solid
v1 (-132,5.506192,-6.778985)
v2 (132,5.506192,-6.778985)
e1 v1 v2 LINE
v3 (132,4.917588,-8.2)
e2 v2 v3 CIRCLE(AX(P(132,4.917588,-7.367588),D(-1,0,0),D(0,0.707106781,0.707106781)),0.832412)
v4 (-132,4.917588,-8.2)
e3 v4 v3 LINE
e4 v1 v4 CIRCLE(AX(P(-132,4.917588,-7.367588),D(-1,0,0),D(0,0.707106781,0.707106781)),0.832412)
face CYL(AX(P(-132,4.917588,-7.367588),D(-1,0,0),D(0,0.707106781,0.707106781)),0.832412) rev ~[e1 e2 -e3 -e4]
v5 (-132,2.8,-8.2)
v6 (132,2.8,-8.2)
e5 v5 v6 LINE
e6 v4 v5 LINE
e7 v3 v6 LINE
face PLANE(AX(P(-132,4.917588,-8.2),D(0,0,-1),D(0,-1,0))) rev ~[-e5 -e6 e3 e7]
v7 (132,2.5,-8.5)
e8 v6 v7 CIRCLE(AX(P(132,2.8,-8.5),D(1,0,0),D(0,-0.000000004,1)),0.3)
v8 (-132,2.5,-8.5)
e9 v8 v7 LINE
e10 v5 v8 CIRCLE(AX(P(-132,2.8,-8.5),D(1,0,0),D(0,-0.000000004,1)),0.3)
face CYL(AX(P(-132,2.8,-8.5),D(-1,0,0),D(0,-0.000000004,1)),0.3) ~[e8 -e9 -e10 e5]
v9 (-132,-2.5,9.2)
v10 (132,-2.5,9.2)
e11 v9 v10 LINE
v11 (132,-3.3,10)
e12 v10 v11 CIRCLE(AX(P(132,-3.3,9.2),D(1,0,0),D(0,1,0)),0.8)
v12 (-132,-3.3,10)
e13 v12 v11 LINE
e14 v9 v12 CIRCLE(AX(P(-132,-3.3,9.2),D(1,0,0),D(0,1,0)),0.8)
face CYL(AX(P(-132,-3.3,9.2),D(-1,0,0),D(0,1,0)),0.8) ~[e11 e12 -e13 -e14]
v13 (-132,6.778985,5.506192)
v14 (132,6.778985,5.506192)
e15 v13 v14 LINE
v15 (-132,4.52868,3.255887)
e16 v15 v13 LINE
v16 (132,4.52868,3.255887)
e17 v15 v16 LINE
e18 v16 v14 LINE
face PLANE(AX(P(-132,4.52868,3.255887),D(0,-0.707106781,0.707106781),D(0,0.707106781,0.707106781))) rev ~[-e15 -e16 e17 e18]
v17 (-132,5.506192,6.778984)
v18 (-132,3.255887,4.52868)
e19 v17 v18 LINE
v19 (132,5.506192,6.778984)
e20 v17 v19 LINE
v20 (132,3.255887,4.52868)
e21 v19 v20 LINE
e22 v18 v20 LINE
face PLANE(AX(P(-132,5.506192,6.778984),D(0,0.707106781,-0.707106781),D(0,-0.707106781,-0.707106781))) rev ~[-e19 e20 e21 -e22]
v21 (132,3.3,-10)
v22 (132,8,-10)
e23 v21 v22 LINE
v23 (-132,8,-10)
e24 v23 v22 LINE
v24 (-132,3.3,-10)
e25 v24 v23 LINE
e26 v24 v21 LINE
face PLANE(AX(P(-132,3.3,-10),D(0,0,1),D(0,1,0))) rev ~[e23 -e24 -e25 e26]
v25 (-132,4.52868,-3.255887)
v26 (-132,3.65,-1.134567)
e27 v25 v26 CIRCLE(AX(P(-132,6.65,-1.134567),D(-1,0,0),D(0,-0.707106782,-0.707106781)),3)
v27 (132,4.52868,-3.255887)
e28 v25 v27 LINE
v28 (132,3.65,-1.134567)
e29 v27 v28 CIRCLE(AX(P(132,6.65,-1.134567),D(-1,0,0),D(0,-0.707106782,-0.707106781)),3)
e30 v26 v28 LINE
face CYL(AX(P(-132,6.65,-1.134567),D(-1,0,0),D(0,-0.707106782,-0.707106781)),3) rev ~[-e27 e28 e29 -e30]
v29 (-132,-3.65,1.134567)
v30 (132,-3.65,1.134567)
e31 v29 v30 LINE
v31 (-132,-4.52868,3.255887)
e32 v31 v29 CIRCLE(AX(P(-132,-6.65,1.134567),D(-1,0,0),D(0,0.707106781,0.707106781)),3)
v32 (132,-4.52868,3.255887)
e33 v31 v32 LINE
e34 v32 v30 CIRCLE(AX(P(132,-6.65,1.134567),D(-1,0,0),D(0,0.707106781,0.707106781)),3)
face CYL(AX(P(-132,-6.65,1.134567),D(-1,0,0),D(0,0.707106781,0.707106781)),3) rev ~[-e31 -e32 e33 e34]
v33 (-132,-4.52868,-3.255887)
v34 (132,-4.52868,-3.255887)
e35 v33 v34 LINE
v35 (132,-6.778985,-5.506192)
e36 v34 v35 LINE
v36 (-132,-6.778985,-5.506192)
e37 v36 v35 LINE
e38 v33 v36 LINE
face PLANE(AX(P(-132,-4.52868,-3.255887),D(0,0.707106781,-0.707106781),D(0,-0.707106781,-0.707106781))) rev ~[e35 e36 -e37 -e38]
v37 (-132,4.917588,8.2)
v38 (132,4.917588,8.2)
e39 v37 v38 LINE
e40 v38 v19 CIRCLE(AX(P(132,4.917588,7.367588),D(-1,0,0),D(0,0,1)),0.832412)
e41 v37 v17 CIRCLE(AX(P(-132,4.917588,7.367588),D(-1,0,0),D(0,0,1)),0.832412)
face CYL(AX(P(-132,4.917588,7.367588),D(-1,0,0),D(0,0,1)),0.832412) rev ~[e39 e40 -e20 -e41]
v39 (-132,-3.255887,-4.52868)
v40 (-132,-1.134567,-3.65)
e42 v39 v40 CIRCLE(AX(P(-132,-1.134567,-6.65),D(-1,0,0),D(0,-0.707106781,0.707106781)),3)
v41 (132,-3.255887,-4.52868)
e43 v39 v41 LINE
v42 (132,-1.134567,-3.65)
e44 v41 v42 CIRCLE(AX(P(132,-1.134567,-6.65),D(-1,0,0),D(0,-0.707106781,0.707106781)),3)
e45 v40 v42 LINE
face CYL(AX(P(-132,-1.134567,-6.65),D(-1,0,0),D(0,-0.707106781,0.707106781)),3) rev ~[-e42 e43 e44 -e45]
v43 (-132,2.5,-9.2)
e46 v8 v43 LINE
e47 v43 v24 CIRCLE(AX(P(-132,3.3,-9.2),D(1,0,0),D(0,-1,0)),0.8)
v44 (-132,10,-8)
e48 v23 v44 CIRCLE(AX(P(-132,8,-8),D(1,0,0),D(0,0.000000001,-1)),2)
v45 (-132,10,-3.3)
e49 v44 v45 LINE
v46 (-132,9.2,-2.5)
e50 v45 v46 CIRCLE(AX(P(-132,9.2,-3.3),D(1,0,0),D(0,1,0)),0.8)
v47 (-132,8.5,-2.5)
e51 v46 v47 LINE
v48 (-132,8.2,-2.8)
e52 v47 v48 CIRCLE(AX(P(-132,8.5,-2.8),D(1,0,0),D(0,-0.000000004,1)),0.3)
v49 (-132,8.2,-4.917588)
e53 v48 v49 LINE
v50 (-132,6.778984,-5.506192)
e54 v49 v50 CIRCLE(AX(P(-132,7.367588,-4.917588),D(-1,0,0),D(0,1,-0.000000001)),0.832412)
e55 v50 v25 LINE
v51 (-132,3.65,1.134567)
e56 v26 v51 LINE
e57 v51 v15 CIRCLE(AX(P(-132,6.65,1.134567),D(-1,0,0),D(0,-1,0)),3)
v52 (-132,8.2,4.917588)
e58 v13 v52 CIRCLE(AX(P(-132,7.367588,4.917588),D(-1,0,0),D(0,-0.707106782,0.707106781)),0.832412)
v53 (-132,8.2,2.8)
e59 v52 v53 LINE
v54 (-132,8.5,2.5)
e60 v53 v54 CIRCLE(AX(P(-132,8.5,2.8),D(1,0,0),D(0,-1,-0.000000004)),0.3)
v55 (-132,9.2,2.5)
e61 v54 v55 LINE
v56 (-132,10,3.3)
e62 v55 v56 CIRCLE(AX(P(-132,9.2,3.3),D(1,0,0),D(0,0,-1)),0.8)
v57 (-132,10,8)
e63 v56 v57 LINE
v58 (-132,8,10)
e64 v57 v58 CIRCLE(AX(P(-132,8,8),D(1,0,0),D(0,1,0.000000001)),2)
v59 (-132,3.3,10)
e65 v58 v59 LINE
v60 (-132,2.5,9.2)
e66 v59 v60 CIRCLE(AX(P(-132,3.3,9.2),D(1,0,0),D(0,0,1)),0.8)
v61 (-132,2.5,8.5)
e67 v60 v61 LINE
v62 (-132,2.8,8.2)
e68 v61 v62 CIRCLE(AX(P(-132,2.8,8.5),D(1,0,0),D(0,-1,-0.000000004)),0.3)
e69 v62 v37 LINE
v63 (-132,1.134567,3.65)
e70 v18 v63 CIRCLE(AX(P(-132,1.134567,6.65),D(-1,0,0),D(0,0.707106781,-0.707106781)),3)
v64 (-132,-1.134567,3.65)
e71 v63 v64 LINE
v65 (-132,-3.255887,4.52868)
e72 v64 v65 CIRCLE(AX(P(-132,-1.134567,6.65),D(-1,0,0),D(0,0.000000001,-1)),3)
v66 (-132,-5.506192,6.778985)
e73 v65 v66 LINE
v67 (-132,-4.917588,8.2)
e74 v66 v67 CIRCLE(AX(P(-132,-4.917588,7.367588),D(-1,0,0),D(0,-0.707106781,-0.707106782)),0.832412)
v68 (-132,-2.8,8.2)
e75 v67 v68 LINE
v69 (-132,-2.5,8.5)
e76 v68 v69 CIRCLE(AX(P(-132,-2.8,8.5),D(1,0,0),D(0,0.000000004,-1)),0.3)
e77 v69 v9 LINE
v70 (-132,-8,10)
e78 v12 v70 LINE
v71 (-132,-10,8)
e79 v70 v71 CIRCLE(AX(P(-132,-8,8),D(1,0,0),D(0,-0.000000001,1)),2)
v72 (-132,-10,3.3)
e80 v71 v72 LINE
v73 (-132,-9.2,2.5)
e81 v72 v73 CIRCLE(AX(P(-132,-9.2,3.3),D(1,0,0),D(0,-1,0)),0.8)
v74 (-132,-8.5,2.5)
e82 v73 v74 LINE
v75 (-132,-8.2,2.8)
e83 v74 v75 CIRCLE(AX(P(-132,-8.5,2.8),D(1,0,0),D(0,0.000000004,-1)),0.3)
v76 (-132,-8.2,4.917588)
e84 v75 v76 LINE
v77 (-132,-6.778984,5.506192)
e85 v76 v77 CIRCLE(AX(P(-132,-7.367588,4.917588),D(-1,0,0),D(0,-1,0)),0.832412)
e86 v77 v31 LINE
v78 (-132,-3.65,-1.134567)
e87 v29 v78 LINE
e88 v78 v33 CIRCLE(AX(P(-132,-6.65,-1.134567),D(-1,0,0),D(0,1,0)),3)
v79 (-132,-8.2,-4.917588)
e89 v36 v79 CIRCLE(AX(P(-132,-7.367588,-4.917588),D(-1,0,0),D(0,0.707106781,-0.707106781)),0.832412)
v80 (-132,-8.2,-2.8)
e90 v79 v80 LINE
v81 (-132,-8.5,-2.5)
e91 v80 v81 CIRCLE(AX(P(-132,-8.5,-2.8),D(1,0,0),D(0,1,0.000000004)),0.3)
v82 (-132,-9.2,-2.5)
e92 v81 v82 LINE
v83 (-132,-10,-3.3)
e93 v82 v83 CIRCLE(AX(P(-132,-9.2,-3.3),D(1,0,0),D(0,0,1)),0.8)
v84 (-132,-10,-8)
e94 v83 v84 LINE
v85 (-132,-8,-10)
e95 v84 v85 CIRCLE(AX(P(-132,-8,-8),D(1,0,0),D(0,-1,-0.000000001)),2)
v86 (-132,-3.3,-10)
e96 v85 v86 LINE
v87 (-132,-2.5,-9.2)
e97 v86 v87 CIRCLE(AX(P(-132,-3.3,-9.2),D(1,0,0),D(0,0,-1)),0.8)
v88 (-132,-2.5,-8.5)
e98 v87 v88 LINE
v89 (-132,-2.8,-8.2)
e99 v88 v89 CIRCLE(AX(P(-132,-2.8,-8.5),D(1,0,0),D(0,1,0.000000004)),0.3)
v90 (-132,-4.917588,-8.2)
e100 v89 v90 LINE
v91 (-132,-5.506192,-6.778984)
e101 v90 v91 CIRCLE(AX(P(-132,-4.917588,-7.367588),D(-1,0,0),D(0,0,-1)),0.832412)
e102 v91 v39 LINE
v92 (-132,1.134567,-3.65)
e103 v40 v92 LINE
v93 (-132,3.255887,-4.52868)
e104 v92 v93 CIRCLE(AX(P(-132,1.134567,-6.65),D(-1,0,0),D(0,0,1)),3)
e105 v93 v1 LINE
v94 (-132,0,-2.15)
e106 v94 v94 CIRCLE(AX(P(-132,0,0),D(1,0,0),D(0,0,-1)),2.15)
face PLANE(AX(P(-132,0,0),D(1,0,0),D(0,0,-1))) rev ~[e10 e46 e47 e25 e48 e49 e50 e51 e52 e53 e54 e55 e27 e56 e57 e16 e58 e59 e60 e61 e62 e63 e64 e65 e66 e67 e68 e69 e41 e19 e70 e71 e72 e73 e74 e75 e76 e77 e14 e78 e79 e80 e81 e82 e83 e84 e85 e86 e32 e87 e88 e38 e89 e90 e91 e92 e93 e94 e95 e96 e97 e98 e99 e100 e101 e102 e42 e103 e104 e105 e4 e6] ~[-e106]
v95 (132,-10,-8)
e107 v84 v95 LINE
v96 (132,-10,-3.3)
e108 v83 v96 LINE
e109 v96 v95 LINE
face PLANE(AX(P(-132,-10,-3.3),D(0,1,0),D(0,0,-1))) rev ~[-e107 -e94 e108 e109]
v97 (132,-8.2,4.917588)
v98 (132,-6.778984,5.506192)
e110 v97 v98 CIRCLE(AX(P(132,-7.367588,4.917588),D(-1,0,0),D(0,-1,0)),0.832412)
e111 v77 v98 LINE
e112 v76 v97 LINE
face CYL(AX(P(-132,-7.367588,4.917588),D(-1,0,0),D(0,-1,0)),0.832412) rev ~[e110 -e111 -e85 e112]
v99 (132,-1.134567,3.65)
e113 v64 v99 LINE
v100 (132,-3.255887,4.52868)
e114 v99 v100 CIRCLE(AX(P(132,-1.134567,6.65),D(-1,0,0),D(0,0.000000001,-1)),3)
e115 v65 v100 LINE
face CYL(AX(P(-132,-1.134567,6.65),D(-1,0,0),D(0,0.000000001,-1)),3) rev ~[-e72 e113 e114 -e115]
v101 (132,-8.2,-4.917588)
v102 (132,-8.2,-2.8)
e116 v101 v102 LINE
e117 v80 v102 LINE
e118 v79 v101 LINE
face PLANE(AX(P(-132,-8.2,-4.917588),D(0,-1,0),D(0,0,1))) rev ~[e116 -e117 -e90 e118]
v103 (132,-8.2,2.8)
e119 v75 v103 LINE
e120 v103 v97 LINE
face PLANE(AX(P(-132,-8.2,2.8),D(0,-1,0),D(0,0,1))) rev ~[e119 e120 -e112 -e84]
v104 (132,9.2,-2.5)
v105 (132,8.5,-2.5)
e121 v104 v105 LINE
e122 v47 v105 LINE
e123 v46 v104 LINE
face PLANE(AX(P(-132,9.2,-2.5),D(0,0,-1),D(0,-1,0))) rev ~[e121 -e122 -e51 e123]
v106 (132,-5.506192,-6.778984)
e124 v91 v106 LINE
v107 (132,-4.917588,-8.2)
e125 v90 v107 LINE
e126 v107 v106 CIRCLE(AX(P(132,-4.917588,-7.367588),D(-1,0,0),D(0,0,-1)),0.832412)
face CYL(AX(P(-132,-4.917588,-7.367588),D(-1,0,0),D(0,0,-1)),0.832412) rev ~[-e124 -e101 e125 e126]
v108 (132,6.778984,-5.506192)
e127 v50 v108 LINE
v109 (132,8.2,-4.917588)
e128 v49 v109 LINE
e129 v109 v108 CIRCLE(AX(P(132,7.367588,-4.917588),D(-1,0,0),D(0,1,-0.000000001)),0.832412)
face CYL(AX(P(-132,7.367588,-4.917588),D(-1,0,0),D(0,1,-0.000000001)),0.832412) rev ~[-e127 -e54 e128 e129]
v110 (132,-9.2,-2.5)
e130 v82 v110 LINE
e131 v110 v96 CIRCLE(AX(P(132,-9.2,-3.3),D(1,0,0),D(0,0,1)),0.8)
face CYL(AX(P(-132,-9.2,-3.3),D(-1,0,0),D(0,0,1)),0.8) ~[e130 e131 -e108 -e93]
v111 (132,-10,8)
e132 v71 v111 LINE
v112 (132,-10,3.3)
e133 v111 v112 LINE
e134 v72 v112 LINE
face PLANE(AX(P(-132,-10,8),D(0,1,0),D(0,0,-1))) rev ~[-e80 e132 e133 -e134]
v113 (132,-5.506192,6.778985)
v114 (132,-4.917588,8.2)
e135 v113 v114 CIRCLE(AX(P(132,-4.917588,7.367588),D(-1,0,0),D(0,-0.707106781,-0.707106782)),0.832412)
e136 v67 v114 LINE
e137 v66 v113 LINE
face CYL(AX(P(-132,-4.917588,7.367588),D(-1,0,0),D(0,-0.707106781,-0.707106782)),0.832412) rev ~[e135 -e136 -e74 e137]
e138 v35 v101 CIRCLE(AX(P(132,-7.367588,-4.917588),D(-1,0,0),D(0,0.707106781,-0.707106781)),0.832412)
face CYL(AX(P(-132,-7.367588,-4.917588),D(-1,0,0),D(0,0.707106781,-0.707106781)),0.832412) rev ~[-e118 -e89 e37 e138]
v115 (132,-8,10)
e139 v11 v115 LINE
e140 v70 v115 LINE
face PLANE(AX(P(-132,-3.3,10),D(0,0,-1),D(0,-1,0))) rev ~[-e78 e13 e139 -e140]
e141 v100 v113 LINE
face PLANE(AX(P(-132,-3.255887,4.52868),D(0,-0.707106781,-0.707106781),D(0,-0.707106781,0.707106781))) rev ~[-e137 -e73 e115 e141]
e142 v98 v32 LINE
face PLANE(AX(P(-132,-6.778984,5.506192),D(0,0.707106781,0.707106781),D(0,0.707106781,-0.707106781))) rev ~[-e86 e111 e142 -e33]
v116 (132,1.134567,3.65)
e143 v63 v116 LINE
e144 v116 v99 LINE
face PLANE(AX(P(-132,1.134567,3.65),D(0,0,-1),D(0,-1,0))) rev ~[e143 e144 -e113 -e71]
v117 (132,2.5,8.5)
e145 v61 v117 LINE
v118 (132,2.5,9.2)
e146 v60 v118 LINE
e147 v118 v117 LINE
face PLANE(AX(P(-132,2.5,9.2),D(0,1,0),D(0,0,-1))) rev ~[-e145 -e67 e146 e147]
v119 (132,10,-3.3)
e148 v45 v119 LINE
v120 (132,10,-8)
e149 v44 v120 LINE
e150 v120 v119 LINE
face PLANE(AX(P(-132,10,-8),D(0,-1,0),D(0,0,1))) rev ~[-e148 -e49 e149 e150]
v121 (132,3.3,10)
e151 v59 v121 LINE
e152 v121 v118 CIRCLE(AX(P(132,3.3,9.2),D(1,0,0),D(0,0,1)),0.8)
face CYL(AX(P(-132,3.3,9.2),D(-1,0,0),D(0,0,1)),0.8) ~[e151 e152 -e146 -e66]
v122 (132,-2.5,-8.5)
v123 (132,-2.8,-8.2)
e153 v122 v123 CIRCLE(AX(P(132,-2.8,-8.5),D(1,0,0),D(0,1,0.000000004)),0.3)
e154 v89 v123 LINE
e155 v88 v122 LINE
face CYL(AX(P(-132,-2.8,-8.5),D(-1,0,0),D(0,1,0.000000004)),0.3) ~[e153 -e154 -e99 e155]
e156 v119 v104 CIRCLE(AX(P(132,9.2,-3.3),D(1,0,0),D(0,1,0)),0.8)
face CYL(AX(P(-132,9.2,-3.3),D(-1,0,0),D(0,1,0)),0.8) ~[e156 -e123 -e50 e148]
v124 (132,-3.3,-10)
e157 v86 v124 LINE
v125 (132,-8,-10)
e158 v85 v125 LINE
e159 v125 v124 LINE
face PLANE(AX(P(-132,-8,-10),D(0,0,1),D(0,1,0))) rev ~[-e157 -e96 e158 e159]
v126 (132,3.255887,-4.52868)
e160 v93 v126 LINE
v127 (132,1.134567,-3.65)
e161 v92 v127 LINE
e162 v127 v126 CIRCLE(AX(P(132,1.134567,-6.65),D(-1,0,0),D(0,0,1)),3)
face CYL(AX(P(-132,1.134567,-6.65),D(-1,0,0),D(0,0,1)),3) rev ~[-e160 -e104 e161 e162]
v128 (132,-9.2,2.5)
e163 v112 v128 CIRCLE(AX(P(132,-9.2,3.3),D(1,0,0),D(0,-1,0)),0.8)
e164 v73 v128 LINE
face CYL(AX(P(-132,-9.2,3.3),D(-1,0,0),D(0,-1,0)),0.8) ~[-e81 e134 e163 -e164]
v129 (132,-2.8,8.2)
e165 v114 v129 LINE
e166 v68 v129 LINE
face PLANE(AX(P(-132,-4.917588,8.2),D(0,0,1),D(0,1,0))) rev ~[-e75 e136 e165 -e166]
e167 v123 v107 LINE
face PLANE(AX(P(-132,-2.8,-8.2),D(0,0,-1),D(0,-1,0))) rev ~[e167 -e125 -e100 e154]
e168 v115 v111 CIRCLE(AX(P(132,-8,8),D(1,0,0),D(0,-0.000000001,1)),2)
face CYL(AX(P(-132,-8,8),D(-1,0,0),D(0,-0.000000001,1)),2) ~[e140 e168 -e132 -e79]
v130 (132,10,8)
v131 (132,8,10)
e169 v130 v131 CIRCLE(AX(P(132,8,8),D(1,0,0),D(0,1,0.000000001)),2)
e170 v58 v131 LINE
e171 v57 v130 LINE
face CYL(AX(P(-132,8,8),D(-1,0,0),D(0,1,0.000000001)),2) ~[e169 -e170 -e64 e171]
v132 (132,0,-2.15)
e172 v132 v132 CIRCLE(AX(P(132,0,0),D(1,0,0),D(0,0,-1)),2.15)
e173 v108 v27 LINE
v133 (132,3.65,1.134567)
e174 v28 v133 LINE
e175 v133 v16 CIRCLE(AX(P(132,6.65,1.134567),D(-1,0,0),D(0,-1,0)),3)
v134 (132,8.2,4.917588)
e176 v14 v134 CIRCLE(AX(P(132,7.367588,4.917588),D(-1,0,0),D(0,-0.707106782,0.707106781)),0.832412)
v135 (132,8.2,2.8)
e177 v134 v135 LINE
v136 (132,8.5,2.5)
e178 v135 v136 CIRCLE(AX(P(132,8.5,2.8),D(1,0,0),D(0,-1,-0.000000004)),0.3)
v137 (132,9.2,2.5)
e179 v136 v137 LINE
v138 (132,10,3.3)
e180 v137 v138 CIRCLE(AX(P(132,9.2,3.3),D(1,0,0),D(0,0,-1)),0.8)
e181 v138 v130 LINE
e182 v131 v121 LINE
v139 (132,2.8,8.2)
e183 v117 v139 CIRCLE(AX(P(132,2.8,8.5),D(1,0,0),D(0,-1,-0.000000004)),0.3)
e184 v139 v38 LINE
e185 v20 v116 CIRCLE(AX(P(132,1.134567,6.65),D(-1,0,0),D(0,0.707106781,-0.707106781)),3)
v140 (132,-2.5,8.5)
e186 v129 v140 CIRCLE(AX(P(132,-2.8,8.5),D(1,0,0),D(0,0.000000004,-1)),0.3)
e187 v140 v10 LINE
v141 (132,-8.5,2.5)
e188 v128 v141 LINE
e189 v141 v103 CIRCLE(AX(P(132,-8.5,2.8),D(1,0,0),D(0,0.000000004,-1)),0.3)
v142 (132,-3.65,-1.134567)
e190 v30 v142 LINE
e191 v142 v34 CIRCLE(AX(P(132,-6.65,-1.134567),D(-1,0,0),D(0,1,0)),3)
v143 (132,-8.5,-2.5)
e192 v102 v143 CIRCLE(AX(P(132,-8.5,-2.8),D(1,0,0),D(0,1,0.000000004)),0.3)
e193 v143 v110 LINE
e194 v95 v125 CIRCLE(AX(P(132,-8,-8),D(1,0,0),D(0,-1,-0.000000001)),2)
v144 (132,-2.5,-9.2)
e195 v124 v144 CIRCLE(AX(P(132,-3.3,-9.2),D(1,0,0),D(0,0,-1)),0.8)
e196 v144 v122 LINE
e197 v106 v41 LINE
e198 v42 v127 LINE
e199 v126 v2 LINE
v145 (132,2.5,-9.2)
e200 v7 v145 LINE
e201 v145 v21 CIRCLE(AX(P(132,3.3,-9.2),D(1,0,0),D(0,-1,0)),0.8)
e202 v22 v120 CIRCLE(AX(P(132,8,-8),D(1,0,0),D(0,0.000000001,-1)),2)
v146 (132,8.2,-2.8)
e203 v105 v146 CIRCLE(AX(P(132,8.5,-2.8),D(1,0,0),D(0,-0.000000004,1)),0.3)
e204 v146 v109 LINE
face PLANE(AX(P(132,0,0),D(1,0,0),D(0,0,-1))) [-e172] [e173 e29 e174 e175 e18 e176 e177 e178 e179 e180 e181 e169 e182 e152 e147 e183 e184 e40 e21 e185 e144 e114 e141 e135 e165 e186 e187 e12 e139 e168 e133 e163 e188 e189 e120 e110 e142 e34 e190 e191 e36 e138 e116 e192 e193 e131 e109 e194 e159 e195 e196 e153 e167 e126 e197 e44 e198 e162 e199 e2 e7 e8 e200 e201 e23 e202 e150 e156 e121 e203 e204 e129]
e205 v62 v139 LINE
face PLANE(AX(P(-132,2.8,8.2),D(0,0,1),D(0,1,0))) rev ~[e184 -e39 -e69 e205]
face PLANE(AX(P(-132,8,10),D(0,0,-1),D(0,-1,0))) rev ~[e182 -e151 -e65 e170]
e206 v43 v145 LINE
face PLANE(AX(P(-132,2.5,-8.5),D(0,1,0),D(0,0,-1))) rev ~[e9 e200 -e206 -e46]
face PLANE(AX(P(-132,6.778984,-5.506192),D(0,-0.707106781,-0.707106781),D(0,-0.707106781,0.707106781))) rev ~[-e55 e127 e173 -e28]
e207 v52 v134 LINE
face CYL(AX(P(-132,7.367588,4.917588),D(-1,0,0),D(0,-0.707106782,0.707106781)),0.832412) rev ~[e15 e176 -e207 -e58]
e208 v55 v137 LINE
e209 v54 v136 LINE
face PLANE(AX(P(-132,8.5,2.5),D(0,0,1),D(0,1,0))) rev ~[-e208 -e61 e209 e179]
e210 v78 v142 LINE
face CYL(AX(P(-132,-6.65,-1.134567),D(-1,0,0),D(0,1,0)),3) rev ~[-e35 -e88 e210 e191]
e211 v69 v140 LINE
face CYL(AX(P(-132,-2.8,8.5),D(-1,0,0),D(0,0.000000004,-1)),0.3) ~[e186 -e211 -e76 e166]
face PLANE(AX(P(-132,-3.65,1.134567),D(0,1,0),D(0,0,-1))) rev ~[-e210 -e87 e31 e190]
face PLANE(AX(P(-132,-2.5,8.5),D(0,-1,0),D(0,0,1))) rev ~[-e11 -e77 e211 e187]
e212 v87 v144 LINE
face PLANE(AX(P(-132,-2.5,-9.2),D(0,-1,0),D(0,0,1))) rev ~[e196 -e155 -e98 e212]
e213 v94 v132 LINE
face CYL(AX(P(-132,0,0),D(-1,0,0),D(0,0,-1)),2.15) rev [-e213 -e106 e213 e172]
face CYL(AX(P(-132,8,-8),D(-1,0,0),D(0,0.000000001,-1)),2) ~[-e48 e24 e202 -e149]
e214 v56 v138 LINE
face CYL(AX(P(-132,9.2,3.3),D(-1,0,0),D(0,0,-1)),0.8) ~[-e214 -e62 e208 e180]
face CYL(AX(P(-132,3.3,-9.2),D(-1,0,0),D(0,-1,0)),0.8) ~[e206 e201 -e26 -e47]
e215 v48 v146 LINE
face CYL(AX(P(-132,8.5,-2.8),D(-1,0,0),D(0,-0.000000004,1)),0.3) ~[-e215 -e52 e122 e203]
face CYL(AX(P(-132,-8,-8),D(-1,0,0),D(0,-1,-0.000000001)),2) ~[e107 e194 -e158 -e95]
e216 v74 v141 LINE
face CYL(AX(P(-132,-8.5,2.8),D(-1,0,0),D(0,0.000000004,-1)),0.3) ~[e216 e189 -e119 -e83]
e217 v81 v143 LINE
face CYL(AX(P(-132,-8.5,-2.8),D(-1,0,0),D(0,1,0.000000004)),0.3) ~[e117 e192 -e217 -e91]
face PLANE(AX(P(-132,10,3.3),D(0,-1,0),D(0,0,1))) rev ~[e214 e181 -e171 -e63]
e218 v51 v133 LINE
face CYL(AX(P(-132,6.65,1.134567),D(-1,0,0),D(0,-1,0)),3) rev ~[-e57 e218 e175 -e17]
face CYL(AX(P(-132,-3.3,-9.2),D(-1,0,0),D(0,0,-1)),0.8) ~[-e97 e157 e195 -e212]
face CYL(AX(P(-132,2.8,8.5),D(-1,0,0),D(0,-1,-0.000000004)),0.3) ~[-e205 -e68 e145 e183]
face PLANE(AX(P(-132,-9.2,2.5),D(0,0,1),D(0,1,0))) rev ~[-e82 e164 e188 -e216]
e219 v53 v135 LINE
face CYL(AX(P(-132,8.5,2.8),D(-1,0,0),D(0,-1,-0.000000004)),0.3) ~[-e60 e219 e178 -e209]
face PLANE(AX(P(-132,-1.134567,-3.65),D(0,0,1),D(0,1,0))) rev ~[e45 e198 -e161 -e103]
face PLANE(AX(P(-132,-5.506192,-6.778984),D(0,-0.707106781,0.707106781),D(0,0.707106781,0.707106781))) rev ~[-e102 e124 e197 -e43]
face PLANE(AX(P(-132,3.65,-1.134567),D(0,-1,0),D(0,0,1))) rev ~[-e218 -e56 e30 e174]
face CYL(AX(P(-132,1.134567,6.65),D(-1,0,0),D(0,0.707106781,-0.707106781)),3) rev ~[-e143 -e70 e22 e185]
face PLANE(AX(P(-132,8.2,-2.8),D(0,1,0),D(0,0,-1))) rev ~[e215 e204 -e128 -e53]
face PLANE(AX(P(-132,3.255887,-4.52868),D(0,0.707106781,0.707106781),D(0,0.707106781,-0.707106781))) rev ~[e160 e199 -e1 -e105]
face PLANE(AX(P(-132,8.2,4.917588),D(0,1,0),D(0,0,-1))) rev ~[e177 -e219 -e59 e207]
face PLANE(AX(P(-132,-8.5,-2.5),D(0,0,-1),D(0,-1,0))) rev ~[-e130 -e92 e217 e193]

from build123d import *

# Parameters (mm, degrees)
SKIZZE11_R                = 2.15
QUADRATISCH_20X20_1_DEPTH = 264


with BuildPart() as part:
    # Skizze11 → Quadratisch 20X20(1) (new body)
    with BuildSketch(Plane(origin=(-132, 0, 0), x_dir=(0, 0, -1), z_dir=(1, 0, 0))):
        with BuildLine():
            Line((3.3, -10), (8, -10))
            ThreePointArc((8, -10), (9.414213562, -9.414213562), (10, -8))
            Line((10, -8), (10, -3.3))
            ThreePointArc((10, -3.3), (9.765685425, -2.734314575), (9.2, -2.5))
            Line((9.2, -2.5), (8.500000004, -2.5))
            ThreePointArc((8.500000004, -2.5), (8.28786797, -2.587867966), (8.200000004, -2.8))
            Line((8.200000004, -2.8), (8.200000004, -4.91758839))
            ThreePointArc((8.200000004, -4.91758839), (7.686138526, -5.686636439), (6.7789845, -5.506192284))
            Line((6.7789845, -5.506192284), (4.52867966, -3.255887444))
            ThreePointArc((4.52867966, -3.255887444), (3.878361407, -2.282617399), (3.650000005, -1.134567104))
            Line((3.650000005, -1.134567104), (3.650000005, 1.134567116))
            ThreePointArc((3.650000005, 1.134567116), (3.878361407, 2.282617413), (4.528679661, 3.25588746))
            Line((4.528679661, 3.25588746), (6.778984505, 5.506192304))
            ThreePointArc((6.778984505, 5.506192304), (7.686138528, 5.686636458), (8.200000004, 4.917588412))
            Line((8.200000004, 4.917588412), (8.200000004, 2.8))
            ThreePointArc((8.200000004, 2.8), (8.28786797, 2.587867966), (8.500000004, 2.5))
            Line((8.500000004, 2.5), (9.2, 2.5))
            ThreePointArc((9.2, 2.5), (9.765685425, 2.734314575), (10, 3.3))
            Line((10, 3.3), (10, 8))
            ThreePointArc((10, 8), (9.414213562, 9.414213562), (8, 10))
            Line((8, 10), (3.3, 10))
            ThreePointArc((3.3, 10), (2.734314575, 9.765685425), (2.5, 9.2))
            Line((2.5, 9.2), (2.5, 8.5))
            ThreePointArc((2.5, 8.5), (2.587867966, 8.287867966), (2.8, 8.2))
            Line((2.8, 8.2), (4.91758839, 8.2))
            ThreePointArc((4.91758839, 8.2), (5.686636437, 7.686138523), (5.506192283, 6.778984499))
            Line((5.506192283, 6.778984499), (3.255887448, 4.528679664))
            ThreePointArc((3.255887448, 4.528679664), (2.282617404, 3.878361412), (1.134567108, 3.650000009))
            Line((1.134567108, 3.650000009), (-1.134567106, 3.650000009))
            ThreePointArc((-1.134567106, 3.650000009), (-2.282617404, 3.878361412), (-3.25588745, 4.528679666))
            Line((-3.25588745, 4.528679666), (-5.50619229, 6.778984506))
            ThreePointArc((-5.50619229, 6.778984506), (-5.686636444, 7.686138526), (-4.9175884, 8.2))
            Line((-4.9175884, 8.2), (-2.8, 8.2))
            ThreePointArc((-2.8, 8.2), (-2.587867966, 8.287867966), (-2.5, 8.5))
            Line((-2.5, 8.5), (-2.5, 9.2))
            ThreePointArc((-2.5, 9.2), (-2.734314575, 9.765685425), (-3.3, 10))
            Line((-3.3, 10), (-8, 10))
            ThreePointArc((-8, 10), (-9.414213562, 9.414213562), (-10, 8))
            Line((-10, 8), (-10, 3.3))
            ThreePointArc((-10, 3.3), (-9.765685425, 2.734314575), (-9.2, 2.5))
            Line((-9.2, 2.5), (-8.5, 2.5))
            ThreePointArc((-8.5, 2.5), (-8.287867966, 2.587867966), (-8.2, 2.8))
            Line((-8.2, 2.8), (-8.2, 4.9175884))
            ThreePointArc((-8.2, 4.9175884), (-7.686138522, 5.686636449), (-6.778984496, 5.506192294))
            Line((-6.778984496, 5.506192294), (-4.528679665, 3.255887463))
            ThreePointArc((-4.528679665, 3.255887463), (-3.878361412, 2.282617418), (-3.65000001, 1.134567123))
            Line((-3.65000001, 1.134567123), (-3.65000001, -1.134567106))
            ThreePointArc((-3.65000001, -1.134567106), (-3.878361412, -2.282617404), (-4.528679666, -3.25588745))
            Line((-4.528679666, -3.25588745), (-6.778984506, -5.50619229))
            ThreePointArc((-6.778984506, -5.50619229), (-7.686138526, -5.686636444), (-8.2, -4.9175884))
            Line((-8.2, -4.9175884), (-8.2, -2.8))
            ThreePointArc((-8.2, -2.8), (-8.287867966, -2.587867966), (-8.5, -2.5))
            Line((-8.5, -2.5), (-9.2, -2.5))
            ThreePointArc((-9.2, -2.5), (-9.765685425, -2.734314575), (-10, -3.3))
            Line((-10, -3.3), (-10, -8))
            ThreePointArc((-10, -8), (-9.414213562, -9.414213562), (-8, -10))
            Line((-8, -10), (-3.3, -10))
            ThreePointArc((-3.3, -10), (-2.734314575, -9.765685425), (-2.5, -9.2))
            Line((-2.5, -9.2), (-2.5, -8.5))
            ThreePointArc((-2.5, -8.5), (-2.587867966, -8.287867966), (-2.8, -8.2))
            Line((-2.8, -8.2), (-4.9175884, -8.2))
            ThreePointArc((-4.9175884, -8.2), (-5.686636449, -7.686138522), (-5.506192294, -6.778984496))
            Line((-5.506192294, -6.778984496), (-3.255887454, -4.528679656))
            ThreePointArc((-3.255887454, -4.528679656), (-2.282617409, -3.878361403), (-1.134567114, -3.650000001))
            Line((-1.134567114, -3.650000001), (1.134567112, -3.650000001))
            ThreePointArc((1.134567112, -3.650000001), (2.282617409, -3.878361403), (3.255887456, -4.528679657))
            Line((3.255887456, -4.528679657), (5.5061923, -6.778984501))
            ThreePointArc((5.5061923, -6.778984501), (5.686636454, -7.686138524), (4.917588408, -8.2))
            Line((4.917588408, -8.2), (2.8, -8.2))
            ThreePointArc((2.8, -8.2), (2.587867966, -8.287867966), (2.5, -8.5))
            Line((2.5, -8.5), (2.5, -9.2))
            ThreePointArc((2.5, -9.2), (2.734314575, -9.765685425), (3.3, -10))
        make_face()
        Circle(SKIZZE11_R, mode=Mode.SUBTRACT)
    extrude(amount=QUADRATISCH_20X20_1_DEPTH)


solid = part.part
